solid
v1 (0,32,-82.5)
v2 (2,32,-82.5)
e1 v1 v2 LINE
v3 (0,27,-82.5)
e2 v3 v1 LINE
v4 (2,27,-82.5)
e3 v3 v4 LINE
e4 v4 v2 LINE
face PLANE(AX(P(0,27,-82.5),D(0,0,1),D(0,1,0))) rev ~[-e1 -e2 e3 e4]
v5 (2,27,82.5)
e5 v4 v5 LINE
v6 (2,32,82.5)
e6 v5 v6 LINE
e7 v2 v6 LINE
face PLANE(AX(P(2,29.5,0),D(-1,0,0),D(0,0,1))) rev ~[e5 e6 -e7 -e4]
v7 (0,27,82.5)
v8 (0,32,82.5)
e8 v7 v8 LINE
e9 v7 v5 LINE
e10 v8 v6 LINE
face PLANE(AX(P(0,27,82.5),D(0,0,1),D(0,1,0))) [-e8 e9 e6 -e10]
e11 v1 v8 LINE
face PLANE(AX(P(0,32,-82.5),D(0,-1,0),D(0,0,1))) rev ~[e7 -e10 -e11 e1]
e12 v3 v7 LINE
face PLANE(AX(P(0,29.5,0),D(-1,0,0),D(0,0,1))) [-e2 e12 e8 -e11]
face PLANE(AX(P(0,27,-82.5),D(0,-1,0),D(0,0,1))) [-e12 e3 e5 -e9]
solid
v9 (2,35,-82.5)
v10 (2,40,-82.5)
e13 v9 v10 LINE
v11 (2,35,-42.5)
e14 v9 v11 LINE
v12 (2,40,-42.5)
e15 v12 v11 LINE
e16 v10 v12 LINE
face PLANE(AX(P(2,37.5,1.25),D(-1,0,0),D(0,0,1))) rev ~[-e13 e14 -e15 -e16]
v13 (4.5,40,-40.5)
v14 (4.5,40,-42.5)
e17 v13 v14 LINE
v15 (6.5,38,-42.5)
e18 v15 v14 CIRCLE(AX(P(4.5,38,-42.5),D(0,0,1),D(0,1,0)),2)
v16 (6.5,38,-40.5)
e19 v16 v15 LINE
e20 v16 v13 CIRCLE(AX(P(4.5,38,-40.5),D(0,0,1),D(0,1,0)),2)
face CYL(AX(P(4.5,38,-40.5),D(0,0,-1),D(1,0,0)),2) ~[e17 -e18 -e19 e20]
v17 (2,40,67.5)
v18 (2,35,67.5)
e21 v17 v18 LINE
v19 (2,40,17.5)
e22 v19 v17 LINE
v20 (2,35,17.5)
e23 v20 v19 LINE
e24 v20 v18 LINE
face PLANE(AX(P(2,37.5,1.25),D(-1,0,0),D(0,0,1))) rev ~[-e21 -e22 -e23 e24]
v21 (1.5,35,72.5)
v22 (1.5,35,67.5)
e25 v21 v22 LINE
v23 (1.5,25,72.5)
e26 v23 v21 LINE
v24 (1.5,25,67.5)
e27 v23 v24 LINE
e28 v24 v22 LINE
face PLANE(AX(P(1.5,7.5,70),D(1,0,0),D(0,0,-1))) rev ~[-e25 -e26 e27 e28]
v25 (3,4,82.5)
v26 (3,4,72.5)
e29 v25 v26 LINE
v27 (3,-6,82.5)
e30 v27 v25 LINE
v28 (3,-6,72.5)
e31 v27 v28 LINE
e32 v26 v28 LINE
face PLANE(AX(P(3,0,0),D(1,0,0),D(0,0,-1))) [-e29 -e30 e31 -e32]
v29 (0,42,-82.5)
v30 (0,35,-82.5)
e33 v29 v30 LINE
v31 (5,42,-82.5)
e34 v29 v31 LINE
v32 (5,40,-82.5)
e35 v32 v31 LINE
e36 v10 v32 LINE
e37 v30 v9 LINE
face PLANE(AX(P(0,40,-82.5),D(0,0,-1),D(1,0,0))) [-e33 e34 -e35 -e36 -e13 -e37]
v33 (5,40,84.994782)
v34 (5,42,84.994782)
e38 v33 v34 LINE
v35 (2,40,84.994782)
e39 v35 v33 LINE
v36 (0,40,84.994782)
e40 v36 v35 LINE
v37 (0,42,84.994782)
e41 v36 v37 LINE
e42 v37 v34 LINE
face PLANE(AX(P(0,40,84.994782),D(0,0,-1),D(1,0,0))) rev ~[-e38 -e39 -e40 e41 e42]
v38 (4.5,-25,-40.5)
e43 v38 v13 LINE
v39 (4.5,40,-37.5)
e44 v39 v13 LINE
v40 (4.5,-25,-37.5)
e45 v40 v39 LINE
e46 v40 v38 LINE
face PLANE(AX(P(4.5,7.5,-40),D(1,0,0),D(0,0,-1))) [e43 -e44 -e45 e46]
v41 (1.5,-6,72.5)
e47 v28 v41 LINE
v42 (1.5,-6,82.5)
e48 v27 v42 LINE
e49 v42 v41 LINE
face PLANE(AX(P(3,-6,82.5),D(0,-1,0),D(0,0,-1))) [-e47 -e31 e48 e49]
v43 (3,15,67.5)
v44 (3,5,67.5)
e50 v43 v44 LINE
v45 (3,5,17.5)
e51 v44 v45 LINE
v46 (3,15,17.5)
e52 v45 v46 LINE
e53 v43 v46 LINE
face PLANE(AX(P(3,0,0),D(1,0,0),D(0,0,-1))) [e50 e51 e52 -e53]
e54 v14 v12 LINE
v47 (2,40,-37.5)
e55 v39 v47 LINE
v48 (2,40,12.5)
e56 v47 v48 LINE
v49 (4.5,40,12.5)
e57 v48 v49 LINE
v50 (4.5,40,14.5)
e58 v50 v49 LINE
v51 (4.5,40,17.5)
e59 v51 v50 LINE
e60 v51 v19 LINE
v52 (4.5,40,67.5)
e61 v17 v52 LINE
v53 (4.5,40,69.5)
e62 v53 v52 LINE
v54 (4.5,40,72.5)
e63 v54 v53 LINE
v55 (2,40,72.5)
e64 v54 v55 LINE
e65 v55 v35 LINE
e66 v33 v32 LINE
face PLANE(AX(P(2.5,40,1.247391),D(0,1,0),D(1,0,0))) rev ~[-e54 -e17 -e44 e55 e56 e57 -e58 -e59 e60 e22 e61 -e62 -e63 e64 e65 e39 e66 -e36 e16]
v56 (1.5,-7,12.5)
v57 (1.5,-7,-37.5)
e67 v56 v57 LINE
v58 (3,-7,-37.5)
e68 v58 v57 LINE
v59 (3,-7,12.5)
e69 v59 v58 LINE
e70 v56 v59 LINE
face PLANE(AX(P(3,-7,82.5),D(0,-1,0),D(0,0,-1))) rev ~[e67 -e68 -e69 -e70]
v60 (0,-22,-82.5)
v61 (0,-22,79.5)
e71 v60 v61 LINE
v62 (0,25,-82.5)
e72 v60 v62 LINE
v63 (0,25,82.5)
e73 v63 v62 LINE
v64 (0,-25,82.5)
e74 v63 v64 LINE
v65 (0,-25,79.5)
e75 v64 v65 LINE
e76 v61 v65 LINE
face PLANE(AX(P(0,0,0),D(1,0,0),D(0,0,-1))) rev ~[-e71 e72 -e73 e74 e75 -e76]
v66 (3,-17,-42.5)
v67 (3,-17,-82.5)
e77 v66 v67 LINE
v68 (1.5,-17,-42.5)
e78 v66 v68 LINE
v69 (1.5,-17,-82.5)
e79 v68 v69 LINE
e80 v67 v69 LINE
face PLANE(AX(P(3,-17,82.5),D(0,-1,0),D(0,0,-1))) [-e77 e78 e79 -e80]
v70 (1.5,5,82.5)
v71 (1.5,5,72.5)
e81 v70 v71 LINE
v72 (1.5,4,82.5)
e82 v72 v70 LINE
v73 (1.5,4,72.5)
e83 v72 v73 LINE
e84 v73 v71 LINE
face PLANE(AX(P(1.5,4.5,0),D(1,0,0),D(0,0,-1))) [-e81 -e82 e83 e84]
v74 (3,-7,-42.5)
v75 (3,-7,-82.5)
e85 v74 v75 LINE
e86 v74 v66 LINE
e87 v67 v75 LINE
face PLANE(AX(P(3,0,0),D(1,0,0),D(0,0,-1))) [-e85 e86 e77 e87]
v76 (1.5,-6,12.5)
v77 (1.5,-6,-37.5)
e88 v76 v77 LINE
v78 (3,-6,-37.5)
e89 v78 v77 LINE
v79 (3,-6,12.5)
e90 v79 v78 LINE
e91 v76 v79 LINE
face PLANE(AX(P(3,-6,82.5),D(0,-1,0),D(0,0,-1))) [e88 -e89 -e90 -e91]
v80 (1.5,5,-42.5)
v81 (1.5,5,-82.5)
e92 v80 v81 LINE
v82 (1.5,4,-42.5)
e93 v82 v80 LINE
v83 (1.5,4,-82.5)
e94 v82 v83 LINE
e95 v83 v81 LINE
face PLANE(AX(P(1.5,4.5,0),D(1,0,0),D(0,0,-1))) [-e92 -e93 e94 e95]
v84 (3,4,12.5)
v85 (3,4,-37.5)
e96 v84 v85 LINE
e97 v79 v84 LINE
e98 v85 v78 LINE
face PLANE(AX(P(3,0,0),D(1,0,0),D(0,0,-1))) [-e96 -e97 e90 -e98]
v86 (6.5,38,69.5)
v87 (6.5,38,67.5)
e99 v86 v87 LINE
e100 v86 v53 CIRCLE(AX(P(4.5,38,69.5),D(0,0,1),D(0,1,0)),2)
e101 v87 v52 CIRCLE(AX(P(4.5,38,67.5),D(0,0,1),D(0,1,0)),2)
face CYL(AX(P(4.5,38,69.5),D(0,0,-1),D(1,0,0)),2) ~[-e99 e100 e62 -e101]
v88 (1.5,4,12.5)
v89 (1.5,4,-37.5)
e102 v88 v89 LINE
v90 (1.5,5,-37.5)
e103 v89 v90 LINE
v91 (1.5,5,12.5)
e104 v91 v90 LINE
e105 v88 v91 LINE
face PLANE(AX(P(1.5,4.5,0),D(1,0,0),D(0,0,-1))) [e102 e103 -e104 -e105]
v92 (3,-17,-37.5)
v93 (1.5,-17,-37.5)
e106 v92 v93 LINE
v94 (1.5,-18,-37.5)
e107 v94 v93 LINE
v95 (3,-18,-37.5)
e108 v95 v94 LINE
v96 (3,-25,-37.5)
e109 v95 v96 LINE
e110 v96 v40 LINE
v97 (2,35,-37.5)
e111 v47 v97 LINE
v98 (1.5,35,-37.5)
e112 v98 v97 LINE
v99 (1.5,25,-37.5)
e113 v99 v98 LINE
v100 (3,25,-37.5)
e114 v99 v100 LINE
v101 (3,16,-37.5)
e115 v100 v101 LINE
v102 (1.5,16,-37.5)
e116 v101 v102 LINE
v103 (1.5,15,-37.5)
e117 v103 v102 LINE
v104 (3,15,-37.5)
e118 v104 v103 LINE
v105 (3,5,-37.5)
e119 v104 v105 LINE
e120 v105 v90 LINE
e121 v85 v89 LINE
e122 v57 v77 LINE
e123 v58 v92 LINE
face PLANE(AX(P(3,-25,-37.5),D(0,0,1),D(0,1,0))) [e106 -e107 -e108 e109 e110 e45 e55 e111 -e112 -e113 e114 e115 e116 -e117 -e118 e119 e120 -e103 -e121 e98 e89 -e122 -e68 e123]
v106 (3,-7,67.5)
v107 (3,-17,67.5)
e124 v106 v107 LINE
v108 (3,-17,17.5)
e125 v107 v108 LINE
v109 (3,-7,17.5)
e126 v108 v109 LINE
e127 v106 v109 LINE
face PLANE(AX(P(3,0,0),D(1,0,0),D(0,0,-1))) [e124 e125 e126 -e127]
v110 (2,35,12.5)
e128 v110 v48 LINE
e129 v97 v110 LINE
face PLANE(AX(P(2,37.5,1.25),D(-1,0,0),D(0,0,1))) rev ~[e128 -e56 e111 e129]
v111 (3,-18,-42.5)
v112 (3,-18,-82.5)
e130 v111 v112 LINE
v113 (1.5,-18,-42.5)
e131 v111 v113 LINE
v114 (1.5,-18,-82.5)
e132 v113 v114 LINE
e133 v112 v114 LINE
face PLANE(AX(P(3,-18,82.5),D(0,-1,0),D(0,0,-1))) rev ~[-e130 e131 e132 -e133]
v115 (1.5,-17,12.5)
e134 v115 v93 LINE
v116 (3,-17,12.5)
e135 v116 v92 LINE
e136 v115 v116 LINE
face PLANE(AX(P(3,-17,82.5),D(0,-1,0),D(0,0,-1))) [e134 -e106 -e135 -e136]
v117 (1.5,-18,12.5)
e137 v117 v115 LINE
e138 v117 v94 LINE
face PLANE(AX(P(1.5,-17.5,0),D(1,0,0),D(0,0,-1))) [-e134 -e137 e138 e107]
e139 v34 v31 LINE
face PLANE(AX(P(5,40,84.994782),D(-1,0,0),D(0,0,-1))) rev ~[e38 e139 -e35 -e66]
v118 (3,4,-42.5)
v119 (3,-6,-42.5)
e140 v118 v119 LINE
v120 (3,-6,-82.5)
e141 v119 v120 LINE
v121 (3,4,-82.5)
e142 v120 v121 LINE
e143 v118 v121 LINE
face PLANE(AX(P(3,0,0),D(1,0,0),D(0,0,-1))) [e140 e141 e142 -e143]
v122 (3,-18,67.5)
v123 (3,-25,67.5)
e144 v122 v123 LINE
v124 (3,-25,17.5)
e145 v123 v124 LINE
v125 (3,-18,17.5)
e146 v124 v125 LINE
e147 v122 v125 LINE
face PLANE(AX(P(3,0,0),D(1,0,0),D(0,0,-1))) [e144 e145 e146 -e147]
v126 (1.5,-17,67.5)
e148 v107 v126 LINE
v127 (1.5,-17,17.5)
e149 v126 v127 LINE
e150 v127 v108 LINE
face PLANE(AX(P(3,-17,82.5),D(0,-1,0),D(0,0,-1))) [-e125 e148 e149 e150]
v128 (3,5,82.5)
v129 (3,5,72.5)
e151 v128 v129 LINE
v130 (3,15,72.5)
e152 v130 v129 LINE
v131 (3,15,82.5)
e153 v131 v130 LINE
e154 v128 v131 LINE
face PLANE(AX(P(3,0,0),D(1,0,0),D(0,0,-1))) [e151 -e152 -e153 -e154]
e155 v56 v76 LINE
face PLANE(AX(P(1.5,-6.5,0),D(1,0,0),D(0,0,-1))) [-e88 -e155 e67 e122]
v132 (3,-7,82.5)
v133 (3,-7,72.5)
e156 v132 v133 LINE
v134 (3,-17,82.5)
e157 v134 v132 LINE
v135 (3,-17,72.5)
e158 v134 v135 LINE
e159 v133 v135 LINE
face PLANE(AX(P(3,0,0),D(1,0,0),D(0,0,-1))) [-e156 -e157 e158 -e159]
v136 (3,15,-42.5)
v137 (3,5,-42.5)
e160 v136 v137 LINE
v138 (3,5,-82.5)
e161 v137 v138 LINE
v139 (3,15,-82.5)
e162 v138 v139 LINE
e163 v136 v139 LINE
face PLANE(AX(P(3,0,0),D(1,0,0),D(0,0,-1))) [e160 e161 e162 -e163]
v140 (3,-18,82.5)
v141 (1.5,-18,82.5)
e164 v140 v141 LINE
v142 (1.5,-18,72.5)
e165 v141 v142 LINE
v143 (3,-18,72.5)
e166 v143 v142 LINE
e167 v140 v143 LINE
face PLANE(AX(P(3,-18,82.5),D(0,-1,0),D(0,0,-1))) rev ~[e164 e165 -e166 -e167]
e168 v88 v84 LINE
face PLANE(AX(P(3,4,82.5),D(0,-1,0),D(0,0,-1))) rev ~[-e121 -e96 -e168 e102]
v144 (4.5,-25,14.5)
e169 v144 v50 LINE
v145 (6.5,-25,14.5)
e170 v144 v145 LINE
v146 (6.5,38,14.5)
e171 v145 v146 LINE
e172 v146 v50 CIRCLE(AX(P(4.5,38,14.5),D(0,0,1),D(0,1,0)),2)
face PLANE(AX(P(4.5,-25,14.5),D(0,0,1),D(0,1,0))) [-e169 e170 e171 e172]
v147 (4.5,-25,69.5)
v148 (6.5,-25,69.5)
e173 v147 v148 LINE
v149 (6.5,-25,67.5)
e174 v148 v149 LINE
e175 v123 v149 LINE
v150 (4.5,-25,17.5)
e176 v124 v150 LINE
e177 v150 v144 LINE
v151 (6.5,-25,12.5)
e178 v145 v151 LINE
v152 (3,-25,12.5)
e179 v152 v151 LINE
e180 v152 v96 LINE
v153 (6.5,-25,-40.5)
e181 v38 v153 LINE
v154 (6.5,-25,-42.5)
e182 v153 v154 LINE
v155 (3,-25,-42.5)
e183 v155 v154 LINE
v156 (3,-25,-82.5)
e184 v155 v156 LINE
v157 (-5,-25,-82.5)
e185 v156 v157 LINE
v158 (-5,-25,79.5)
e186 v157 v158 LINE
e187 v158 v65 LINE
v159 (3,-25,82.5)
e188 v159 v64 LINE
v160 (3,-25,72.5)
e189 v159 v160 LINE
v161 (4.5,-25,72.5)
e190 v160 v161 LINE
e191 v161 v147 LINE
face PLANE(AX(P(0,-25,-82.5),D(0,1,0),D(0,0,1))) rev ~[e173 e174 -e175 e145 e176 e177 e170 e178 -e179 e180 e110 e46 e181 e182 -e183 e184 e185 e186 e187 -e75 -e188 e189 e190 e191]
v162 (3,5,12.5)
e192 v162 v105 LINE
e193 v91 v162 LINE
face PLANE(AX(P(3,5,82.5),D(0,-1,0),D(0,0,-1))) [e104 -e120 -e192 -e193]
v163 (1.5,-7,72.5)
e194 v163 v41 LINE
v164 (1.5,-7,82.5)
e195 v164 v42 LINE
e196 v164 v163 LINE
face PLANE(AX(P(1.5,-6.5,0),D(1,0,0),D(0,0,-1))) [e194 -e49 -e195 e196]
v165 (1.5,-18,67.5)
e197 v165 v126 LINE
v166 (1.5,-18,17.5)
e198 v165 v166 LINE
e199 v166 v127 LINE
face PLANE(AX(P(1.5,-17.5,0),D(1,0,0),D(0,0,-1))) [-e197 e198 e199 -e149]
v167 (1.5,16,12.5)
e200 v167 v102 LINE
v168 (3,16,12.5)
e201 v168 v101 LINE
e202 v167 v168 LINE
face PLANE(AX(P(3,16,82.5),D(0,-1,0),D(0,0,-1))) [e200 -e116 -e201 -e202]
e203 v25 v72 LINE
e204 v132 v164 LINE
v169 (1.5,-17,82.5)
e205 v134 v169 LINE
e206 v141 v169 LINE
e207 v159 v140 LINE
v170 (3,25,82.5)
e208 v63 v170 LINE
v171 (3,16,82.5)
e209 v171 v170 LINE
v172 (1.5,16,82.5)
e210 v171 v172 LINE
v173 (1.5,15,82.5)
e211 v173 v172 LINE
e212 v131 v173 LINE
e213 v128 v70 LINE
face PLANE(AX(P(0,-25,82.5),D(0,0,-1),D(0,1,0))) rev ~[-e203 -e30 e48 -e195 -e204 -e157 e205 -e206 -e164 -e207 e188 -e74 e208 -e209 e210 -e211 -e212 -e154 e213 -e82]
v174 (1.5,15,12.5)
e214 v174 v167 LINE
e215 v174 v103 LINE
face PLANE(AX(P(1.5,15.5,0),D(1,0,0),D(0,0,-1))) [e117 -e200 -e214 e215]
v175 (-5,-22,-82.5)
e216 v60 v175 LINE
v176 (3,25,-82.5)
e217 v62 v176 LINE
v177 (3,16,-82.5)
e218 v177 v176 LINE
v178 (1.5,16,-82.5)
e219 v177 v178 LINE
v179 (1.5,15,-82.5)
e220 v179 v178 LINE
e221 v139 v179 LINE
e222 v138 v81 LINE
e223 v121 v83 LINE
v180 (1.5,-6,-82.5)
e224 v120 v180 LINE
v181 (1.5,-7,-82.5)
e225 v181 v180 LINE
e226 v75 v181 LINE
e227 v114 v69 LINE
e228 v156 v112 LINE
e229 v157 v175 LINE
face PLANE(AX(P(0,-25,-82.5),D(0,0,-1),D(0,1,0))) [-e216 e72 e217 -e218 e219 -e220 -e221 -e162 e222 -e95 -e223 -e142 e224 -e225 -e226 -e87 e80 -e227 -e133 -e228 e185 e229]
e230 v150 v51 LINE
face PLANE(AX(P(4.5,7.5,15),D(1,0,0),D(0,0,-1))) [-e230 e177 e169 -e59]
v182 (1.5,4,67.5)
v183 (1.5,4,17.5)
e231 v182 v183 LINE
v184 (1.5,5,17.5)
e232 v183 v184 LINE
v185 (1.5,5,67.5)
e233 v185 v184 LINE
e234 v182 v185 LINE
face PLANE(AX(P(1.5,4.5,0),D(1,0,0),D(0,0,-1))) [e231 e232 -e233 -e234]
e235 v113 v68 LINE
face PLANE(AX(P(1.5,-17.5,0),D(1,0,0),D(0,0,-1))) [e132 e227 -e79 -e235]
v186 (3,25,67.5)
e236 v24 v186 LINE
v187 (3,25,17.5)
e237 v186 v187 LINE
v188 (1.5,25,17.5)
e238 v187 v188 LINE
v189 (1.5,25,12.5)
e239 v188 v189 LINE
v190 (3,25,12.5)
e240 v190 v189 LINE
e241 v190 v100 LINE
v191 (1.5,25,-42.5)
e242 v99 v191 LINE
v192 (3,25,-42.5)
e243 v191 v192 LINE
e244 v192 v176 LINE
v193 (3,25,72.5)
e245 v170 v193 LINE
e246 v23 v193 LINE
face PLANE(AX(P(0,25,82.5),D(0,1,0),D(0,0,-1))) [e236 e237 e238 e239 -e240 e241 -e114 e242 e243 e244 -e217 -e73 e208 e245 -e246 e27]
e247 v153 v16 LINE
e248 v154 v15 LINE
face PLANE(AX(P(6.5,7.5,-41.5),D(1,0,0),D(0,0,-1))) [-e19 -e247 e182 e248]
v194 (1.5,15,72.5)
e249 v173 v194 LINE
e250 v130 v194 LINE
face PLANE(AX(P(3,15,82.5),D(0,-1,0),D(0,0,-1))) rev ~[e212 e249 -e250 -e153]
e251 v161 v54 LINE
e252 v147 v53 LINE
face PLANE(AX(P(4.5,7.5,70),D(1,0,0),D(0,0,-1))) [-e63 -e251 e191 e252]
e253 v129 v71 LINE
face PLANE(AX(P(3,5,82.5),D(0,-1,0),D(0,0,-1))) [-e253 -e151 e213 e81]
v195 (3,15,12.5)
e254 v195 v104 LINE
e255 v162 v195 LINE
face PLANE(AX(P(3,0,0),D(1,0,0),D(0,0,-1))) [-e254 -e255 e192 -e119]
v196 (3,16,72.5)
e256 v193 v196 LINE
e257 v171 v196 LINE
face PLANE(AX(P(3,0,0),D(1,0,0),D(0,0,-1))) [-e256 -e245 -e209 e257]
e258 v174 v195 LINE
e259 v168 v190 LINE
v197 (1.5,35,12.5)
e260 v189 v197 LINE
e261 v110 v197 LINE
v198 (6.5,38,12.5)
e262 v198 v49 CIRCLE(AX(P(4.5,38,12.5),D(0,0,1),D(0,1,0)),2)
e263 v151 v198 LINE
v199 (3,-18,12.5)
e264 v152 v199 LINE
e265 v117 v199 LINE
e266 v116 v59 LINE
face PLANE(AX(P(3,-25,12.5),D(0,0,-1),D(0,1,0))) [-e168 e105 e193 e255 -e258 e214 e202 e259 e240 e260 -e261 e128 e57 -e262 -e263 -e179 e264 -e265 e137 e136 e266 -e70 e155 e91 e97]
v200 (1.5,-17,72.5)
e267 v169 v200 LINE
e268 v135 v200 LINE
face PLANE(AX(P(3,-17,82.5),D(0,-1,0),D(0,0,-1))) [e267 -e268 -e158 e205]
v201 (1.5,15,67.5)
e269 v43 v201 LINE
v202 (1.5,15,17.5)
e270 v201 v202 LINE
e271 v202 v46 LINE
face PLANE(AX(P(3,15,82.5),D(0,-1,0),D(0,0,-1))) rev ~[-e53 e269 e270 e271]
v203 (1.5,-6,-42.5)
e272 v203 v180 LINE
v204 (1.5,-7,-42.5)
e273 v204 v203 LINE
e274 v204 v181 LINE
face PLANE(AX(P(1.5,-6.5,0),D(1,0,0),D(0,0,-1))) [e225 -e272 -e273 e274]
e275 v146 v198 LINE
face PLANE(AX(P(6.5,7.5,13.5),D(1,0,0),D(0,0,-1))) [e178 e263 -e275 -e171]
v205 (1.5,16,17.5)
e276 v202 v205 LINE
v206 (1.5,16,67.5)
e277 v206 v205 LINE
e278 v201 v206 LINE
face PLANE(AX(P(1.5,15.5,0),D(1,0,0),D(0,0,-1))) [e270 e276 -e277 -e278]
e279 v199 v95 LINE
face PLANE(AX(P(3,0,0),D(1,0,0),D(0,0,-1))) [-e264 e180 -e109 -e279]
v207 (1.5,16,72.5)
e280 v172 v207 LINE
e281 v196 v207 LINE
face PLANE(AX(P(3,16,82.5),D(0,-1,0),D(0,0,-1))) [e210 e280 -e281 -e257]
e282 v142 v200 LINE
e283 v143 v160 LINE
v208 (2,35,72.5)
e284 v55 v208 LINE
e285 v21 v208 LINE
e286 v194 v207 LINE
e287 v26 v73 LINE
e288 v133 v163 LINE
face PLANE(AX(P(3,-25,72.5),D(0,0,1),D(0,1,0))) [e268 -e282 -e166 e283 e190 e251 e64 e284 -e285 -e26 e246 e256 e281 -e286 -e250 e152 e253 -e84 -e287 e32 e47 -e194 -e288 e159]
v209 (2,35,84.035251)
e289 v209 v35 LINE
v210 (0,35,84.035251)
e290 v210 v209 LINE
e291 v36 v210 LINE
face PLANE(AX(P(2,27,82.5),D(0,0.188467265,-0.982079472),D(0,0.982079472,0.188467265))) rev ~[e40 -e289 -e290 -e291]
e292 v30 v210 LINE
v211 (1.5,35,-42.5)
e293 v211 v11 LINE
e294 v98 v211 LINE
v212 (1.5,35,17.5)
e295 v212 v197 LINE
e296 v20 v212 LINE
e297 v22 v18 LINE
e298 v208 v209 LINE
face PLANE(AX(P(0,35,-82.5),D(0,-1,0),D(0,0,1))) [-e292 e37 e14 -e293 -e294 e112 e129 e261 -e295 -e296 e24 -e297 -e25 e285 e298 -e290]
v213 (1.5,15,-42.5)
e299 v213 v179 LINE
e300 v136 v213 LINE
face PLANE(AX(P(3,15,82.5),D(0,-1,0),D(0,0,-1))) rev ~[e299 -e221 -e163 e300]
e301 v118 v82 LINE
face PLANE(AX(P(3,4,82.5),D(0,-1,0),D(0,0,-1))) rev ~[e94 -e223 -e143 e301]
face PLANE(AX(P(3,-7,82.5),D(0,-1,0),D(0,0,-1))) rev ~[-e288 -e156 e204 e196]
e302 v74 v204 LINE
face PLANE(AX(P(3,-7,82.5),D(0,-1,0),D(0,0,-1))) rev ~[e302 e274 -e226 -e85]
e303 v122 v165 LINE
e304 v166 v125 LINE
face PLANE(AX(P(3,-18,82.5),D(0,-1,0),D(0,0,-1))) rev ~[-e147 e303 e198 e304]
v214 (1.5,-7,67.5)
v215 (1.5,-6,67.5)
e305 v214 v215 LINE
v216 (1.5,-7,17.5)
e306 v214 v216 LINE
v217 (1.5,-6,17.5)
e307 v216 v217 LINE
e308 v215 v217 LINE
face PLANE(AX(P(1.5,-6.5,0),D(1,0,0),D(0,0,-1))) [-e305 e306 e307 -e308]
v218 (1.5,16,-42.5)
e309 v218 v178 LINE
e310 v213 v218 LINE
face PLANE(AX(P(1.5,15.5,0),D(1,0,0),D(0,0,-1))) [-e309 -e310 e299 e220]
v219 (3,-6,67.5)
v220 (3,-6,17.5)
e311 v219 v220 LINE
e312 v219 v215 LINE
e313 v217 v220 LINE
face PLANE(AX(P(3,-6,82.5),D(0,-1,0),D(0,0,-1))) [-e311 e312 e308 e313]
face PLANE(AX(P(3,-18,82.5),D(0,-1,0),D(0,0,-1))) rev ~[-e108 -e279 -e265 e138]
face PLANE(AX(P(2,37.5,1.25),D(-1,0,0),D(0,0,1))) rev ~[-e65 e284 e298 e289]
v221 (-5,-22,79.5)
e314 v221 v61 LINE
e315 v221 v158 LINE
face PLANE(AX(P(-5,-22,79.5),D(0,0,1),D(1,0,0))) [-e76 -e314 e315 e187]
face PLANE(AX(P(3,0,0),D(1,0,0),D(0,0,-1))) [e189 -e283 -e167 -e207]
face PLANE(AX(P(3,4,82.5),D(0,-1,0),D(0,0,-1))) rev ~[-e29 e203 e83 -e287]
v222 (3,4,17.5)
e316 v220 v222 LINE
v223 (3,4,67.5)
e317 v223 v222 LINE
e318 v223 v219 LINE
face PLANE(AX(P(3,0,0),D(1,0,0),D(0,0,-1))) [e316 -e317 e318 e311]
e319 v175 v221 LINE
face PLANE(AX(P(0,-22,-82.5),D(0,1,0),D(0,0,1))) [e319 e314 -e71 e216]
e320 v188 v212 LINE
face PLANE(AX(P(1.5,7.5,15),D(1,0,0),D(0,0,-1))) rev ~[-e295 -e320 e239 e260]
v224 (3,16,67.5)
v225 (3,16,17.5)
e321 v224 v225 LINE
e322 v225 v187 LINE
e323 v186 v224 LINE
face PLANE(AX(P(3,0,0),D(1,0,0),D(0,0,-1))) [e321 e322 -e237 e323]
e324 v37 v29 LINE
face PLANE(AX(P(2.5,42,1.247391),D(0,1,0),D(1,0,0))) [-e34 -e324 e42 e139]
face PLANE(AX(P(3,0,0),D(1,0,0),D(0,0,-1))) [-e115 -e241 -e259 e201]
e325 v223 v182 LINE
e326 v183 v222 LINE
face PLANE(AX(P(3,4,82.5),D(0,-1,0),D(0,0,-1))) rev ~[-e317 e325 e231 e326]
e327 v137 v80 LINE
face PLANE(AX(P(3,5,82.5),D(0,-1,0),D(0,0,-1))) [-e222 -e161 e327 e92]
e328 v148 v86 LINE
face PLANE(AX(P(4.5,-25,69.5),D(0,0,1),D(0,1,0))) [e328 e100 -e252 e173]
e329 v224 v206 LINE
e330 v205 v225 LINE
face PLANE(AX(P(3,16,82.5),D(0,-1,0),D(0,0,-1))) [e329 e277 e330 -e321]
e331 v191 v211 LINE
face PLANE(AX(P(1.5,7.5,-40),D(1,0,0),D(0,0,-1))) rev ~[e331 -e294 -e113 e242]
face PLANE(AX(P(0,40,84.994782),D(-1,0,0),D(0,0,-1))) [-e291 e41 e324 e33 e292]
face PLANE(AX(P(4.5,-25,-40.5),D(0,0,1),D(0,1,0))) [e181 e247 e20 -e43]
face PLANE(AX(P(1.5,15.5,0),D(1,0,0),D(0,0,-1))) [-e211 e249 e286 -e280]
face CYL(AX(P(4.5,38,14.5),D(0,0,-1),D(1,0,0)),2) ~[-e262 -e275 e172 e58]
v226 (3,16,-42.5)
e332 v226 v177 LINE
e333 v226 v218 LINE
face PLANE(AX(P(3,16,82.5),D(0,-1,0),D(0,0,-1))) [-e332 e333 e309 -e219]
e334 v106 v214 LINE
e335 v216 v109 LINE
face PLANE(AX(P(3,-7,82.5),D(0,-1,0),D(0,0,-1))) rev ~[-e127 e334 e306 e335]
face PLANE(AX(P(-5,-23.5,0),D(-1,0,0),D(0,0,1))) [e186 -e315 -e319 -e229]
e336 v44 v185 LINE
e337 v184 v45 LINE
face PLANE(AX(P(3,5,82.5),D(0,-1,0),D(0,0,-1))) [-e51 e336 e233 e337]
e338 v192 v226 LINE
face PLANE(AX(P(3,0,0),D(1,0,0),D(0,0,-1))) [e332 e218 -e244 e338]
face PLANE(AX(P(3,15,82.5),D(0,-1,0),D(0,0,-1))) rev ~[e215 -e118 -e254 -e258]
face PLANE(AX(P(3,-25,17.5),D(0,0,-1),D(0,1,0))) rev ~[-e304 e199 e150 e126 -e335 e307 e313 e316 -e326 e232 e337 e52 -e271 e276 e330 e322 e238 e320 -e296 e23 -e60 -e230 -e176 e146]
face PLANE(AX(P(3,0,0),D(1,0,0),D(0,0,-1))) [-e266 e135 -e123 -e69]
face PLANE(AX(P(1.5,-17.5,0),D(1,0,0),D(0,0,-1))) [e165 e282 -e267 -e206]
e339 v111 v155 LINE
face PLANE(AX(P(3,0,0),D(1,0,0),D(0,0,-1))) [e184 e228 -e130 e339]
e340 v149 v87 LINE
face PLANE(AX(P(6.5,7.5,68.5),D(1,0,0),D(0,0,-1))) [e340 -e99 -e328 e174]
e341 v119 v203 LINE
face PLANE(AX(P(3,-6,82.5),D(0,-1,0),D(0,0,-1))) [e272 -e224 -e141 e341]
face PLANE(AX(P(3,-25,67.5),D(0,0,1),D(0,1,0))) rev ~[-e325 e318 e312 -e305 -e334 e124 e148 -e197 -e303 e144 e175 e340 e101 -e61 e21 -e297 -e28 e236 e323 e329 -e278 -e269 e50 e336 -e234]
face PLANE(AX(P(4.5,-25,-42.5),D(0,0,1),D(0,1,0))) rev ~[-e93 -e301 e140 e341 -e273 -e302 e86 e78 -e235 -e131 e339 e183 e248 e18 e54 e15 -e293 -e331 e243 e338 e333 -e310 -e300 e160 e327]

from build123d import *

# Parameters (mm, degrees)
SKETCH1_W             = 165
SKETCH1_H             = 50
BOSS_EXTRUDE1_DEPTH   = 3
SKETCH2_W             = 165
SKETCH2_H             = 1
CUT_EXTRUDE1_DEPTH    = 1.5
SKETCH3_W             = 5
SKETCH3_H             = 65
BOSS_EXTRUDE2_DEPTH   = 1.5
SKETCH4_W             = 2
SKETCH4_H             = 65
BOSS_EXTRUDE3_DEPTH   = 2
FILLET1_R             = 2
SKETCH5_W             = 165
SKETCH5_H             = 5
BOSS_EXTRUDE4_DEPTH   = 2
SKETCH5_W_2           = 167.5
BOSS_EXTRUDE4_2_DEPTH = 2
SKETCH7_W             = 165
SKETCH7_H             = 3
BOSS_EXTRUDE5_DEPTH   = 5
SKETCH8_W             = 5
SKETCH8_H             = 167.494782264
BOSS_EXTRUDE6_DEPTH   = 2
SKETCH12_W            = 5
SKETCH12_H            = 3
CUT_EXTRUDE3_DEPTH    = 3
CUT_EXTRUDE5_DEPTH    = 10


with BuildPart() as part:
    # Sketch1 → Boss-Extrude1 (new body)
    with BuildSketch(Plane(origin=(0, 0, 0), x_dir=(0, 0, -1), z_dir=(1, 0, 0))):
        Rectangle(SKETCH1_W, SKETCH1_H)
    extrude(amount=BOSS_EXTRUDE1_DEPTH)

    # Sketch2 → Cut-Extrude1 (cut)
    with BuildSketch(Plane(origin=(3, 0, 0), x_dir=(0, 0, -1), z_dir=(1, 0, 0))):
        with Locations((0, -17.5)):
            Rectangle(SKETCH2_W, SKETCH2_H)
        with Locations((0, -6.5)):
            Rectangle(SKETCH2_W, SKETCH2_H)
        with Locations((0, 4.5)):
            Rectangle(SKETCH2_W, SKETCH2_H)
        with Locations((0, 15.5)):
            Rectangle(SKETCH2_W, SKETCH2_H)
    extrude(amount=-CUT_EXTRUDE1_DEPTH, mode=Mode.SUBTRACT)

    # Sketch3 → Boss-Extrude2 (add, symmetric)
    with BuildSketch(Plane(origin=(3, 0, 0), x_dir=(0, 0, -1), z_dir=(1, 0, 0))):
        with Locations((-70, 7.5)):
            Rectangle(SKETCH3_W, SKETCH3_H)
        with Locations((40, 7.5)):
            Rectangle(SKETCH3_W, SKETCH3_H)
        with Locations((-15, 7.5)):
            Rectangle(SKETCH3_W, SKETCH3_H)
    extrude(amount=BOSS_EXTRUDE2_DEPTH, both=True)

    # Sketch4 → Boss-Extrude3 (add)
    with BuildSketch(Plane(origin=(4.5, 0, 0), x_dir=(0, 0, -1), z_dir=(1, 0, 0))):
        with Locations((41.5, 7.5)):
            Rectangle(SKETCH4_W, SKETCH4_H)
        with Locations((-13.5, 7.5)):
            Rectangle(SKETCH4_W, SKETCH4_H)
        with Locations((-68.5, 7.5)):
            Rectangle(SKETCH4_W, SKETCH4_H)
    extrude(amount=BOSS_EXTRUDE3_DEPTH)

    # Fillet1
    fillet1_edges = [part.edges().sort_by_distance(p)[0] for p in [
        (6.5, 40, 68.5),
        (6.5, 40, 13.5),
        (6.5, 40, -41.5),
    ]]
    fillet(fillet1_edges, radius=FILLET1_R)

    # Sketch7 → Boss-Extrude5 (add)
    with BuildSketch(Plane.ZY):
        with Locations((0, -23.5)):
            Rectangle(SKETCH7_W, SKETCH7_H)
    extrude(amount=BOSS_EXTRUDE5_DEPTH)



with BuildPart() as body_2:
    # Sketch5 → Boss-Extrude4 (new body)
    with BuildSketch(Plane.ZY):
        with Locations((0, 29.5)):
            Rectangle(SKETCH5_W, SKETCH5_H)
    extrude(amount=-BOSS_EXTRUDE4_DEPTH)


with BuildPart() as body_3:
    # Sketch5 → Boss-Extrude4 2 (new body)
    with BuildSketch(Plane.ZY):
        with Locations((1.25, 37.5)):
            Rectangle(SKETCH5_W_2, SKETCH5_H)
    extrude(amount=-BOSS_EXTRUDE4_2_DEPTH)


with BuildPart() as part_1:
    add(part.part)

    add(body_3.part)  # Boss-Extrude6 merges body 3
    # Sketch8 → Boss-Extrude6 (add)
    with BuildSketch(Plane(origin=(0, 40, 0), x_dir=(1, 0, 0), z_dir=(0, 1, 0))):
        with Locations((2.5, -1.247391132)):
            Rectangle(SKETCH8_W, SKETCH8_H)
    extrude(amount=BOSS_EXTRUDE6_DEPTH)

    # Sketch12 → Cut-Extrude3 (cut)
    with BuildSketch(Plane(origin=(0, -22, 0), x_dir=(1, 0, 0), z_dir=(0, 1, 0))):
        with Locations((-2.5, -81)):
            Rectangle(SKETCH12_W, SKETCH12_H)
    extrude(amount=-CUT_EXTRUDE3_DEPTH, mode=Mode.SUBTRACT)

    # Sketch13 → Cut-Extrude5 (cut)
    with BuildSketch(Plane(origin=(2, 0, 0), x_dir=(0, 0, -1), z_dir=(1, 0, 0))):
        Polygon((-82.5, 27), (-84.994782264, 40), (-86.356736261, 40), (-86.356736261, 27), align=None)
    extrude(amount=-CUT_EXTRUDE5_DEPTH, mode=Mode.SUBTRACT)


solid = Compound([body_2.part, part_1.part])
